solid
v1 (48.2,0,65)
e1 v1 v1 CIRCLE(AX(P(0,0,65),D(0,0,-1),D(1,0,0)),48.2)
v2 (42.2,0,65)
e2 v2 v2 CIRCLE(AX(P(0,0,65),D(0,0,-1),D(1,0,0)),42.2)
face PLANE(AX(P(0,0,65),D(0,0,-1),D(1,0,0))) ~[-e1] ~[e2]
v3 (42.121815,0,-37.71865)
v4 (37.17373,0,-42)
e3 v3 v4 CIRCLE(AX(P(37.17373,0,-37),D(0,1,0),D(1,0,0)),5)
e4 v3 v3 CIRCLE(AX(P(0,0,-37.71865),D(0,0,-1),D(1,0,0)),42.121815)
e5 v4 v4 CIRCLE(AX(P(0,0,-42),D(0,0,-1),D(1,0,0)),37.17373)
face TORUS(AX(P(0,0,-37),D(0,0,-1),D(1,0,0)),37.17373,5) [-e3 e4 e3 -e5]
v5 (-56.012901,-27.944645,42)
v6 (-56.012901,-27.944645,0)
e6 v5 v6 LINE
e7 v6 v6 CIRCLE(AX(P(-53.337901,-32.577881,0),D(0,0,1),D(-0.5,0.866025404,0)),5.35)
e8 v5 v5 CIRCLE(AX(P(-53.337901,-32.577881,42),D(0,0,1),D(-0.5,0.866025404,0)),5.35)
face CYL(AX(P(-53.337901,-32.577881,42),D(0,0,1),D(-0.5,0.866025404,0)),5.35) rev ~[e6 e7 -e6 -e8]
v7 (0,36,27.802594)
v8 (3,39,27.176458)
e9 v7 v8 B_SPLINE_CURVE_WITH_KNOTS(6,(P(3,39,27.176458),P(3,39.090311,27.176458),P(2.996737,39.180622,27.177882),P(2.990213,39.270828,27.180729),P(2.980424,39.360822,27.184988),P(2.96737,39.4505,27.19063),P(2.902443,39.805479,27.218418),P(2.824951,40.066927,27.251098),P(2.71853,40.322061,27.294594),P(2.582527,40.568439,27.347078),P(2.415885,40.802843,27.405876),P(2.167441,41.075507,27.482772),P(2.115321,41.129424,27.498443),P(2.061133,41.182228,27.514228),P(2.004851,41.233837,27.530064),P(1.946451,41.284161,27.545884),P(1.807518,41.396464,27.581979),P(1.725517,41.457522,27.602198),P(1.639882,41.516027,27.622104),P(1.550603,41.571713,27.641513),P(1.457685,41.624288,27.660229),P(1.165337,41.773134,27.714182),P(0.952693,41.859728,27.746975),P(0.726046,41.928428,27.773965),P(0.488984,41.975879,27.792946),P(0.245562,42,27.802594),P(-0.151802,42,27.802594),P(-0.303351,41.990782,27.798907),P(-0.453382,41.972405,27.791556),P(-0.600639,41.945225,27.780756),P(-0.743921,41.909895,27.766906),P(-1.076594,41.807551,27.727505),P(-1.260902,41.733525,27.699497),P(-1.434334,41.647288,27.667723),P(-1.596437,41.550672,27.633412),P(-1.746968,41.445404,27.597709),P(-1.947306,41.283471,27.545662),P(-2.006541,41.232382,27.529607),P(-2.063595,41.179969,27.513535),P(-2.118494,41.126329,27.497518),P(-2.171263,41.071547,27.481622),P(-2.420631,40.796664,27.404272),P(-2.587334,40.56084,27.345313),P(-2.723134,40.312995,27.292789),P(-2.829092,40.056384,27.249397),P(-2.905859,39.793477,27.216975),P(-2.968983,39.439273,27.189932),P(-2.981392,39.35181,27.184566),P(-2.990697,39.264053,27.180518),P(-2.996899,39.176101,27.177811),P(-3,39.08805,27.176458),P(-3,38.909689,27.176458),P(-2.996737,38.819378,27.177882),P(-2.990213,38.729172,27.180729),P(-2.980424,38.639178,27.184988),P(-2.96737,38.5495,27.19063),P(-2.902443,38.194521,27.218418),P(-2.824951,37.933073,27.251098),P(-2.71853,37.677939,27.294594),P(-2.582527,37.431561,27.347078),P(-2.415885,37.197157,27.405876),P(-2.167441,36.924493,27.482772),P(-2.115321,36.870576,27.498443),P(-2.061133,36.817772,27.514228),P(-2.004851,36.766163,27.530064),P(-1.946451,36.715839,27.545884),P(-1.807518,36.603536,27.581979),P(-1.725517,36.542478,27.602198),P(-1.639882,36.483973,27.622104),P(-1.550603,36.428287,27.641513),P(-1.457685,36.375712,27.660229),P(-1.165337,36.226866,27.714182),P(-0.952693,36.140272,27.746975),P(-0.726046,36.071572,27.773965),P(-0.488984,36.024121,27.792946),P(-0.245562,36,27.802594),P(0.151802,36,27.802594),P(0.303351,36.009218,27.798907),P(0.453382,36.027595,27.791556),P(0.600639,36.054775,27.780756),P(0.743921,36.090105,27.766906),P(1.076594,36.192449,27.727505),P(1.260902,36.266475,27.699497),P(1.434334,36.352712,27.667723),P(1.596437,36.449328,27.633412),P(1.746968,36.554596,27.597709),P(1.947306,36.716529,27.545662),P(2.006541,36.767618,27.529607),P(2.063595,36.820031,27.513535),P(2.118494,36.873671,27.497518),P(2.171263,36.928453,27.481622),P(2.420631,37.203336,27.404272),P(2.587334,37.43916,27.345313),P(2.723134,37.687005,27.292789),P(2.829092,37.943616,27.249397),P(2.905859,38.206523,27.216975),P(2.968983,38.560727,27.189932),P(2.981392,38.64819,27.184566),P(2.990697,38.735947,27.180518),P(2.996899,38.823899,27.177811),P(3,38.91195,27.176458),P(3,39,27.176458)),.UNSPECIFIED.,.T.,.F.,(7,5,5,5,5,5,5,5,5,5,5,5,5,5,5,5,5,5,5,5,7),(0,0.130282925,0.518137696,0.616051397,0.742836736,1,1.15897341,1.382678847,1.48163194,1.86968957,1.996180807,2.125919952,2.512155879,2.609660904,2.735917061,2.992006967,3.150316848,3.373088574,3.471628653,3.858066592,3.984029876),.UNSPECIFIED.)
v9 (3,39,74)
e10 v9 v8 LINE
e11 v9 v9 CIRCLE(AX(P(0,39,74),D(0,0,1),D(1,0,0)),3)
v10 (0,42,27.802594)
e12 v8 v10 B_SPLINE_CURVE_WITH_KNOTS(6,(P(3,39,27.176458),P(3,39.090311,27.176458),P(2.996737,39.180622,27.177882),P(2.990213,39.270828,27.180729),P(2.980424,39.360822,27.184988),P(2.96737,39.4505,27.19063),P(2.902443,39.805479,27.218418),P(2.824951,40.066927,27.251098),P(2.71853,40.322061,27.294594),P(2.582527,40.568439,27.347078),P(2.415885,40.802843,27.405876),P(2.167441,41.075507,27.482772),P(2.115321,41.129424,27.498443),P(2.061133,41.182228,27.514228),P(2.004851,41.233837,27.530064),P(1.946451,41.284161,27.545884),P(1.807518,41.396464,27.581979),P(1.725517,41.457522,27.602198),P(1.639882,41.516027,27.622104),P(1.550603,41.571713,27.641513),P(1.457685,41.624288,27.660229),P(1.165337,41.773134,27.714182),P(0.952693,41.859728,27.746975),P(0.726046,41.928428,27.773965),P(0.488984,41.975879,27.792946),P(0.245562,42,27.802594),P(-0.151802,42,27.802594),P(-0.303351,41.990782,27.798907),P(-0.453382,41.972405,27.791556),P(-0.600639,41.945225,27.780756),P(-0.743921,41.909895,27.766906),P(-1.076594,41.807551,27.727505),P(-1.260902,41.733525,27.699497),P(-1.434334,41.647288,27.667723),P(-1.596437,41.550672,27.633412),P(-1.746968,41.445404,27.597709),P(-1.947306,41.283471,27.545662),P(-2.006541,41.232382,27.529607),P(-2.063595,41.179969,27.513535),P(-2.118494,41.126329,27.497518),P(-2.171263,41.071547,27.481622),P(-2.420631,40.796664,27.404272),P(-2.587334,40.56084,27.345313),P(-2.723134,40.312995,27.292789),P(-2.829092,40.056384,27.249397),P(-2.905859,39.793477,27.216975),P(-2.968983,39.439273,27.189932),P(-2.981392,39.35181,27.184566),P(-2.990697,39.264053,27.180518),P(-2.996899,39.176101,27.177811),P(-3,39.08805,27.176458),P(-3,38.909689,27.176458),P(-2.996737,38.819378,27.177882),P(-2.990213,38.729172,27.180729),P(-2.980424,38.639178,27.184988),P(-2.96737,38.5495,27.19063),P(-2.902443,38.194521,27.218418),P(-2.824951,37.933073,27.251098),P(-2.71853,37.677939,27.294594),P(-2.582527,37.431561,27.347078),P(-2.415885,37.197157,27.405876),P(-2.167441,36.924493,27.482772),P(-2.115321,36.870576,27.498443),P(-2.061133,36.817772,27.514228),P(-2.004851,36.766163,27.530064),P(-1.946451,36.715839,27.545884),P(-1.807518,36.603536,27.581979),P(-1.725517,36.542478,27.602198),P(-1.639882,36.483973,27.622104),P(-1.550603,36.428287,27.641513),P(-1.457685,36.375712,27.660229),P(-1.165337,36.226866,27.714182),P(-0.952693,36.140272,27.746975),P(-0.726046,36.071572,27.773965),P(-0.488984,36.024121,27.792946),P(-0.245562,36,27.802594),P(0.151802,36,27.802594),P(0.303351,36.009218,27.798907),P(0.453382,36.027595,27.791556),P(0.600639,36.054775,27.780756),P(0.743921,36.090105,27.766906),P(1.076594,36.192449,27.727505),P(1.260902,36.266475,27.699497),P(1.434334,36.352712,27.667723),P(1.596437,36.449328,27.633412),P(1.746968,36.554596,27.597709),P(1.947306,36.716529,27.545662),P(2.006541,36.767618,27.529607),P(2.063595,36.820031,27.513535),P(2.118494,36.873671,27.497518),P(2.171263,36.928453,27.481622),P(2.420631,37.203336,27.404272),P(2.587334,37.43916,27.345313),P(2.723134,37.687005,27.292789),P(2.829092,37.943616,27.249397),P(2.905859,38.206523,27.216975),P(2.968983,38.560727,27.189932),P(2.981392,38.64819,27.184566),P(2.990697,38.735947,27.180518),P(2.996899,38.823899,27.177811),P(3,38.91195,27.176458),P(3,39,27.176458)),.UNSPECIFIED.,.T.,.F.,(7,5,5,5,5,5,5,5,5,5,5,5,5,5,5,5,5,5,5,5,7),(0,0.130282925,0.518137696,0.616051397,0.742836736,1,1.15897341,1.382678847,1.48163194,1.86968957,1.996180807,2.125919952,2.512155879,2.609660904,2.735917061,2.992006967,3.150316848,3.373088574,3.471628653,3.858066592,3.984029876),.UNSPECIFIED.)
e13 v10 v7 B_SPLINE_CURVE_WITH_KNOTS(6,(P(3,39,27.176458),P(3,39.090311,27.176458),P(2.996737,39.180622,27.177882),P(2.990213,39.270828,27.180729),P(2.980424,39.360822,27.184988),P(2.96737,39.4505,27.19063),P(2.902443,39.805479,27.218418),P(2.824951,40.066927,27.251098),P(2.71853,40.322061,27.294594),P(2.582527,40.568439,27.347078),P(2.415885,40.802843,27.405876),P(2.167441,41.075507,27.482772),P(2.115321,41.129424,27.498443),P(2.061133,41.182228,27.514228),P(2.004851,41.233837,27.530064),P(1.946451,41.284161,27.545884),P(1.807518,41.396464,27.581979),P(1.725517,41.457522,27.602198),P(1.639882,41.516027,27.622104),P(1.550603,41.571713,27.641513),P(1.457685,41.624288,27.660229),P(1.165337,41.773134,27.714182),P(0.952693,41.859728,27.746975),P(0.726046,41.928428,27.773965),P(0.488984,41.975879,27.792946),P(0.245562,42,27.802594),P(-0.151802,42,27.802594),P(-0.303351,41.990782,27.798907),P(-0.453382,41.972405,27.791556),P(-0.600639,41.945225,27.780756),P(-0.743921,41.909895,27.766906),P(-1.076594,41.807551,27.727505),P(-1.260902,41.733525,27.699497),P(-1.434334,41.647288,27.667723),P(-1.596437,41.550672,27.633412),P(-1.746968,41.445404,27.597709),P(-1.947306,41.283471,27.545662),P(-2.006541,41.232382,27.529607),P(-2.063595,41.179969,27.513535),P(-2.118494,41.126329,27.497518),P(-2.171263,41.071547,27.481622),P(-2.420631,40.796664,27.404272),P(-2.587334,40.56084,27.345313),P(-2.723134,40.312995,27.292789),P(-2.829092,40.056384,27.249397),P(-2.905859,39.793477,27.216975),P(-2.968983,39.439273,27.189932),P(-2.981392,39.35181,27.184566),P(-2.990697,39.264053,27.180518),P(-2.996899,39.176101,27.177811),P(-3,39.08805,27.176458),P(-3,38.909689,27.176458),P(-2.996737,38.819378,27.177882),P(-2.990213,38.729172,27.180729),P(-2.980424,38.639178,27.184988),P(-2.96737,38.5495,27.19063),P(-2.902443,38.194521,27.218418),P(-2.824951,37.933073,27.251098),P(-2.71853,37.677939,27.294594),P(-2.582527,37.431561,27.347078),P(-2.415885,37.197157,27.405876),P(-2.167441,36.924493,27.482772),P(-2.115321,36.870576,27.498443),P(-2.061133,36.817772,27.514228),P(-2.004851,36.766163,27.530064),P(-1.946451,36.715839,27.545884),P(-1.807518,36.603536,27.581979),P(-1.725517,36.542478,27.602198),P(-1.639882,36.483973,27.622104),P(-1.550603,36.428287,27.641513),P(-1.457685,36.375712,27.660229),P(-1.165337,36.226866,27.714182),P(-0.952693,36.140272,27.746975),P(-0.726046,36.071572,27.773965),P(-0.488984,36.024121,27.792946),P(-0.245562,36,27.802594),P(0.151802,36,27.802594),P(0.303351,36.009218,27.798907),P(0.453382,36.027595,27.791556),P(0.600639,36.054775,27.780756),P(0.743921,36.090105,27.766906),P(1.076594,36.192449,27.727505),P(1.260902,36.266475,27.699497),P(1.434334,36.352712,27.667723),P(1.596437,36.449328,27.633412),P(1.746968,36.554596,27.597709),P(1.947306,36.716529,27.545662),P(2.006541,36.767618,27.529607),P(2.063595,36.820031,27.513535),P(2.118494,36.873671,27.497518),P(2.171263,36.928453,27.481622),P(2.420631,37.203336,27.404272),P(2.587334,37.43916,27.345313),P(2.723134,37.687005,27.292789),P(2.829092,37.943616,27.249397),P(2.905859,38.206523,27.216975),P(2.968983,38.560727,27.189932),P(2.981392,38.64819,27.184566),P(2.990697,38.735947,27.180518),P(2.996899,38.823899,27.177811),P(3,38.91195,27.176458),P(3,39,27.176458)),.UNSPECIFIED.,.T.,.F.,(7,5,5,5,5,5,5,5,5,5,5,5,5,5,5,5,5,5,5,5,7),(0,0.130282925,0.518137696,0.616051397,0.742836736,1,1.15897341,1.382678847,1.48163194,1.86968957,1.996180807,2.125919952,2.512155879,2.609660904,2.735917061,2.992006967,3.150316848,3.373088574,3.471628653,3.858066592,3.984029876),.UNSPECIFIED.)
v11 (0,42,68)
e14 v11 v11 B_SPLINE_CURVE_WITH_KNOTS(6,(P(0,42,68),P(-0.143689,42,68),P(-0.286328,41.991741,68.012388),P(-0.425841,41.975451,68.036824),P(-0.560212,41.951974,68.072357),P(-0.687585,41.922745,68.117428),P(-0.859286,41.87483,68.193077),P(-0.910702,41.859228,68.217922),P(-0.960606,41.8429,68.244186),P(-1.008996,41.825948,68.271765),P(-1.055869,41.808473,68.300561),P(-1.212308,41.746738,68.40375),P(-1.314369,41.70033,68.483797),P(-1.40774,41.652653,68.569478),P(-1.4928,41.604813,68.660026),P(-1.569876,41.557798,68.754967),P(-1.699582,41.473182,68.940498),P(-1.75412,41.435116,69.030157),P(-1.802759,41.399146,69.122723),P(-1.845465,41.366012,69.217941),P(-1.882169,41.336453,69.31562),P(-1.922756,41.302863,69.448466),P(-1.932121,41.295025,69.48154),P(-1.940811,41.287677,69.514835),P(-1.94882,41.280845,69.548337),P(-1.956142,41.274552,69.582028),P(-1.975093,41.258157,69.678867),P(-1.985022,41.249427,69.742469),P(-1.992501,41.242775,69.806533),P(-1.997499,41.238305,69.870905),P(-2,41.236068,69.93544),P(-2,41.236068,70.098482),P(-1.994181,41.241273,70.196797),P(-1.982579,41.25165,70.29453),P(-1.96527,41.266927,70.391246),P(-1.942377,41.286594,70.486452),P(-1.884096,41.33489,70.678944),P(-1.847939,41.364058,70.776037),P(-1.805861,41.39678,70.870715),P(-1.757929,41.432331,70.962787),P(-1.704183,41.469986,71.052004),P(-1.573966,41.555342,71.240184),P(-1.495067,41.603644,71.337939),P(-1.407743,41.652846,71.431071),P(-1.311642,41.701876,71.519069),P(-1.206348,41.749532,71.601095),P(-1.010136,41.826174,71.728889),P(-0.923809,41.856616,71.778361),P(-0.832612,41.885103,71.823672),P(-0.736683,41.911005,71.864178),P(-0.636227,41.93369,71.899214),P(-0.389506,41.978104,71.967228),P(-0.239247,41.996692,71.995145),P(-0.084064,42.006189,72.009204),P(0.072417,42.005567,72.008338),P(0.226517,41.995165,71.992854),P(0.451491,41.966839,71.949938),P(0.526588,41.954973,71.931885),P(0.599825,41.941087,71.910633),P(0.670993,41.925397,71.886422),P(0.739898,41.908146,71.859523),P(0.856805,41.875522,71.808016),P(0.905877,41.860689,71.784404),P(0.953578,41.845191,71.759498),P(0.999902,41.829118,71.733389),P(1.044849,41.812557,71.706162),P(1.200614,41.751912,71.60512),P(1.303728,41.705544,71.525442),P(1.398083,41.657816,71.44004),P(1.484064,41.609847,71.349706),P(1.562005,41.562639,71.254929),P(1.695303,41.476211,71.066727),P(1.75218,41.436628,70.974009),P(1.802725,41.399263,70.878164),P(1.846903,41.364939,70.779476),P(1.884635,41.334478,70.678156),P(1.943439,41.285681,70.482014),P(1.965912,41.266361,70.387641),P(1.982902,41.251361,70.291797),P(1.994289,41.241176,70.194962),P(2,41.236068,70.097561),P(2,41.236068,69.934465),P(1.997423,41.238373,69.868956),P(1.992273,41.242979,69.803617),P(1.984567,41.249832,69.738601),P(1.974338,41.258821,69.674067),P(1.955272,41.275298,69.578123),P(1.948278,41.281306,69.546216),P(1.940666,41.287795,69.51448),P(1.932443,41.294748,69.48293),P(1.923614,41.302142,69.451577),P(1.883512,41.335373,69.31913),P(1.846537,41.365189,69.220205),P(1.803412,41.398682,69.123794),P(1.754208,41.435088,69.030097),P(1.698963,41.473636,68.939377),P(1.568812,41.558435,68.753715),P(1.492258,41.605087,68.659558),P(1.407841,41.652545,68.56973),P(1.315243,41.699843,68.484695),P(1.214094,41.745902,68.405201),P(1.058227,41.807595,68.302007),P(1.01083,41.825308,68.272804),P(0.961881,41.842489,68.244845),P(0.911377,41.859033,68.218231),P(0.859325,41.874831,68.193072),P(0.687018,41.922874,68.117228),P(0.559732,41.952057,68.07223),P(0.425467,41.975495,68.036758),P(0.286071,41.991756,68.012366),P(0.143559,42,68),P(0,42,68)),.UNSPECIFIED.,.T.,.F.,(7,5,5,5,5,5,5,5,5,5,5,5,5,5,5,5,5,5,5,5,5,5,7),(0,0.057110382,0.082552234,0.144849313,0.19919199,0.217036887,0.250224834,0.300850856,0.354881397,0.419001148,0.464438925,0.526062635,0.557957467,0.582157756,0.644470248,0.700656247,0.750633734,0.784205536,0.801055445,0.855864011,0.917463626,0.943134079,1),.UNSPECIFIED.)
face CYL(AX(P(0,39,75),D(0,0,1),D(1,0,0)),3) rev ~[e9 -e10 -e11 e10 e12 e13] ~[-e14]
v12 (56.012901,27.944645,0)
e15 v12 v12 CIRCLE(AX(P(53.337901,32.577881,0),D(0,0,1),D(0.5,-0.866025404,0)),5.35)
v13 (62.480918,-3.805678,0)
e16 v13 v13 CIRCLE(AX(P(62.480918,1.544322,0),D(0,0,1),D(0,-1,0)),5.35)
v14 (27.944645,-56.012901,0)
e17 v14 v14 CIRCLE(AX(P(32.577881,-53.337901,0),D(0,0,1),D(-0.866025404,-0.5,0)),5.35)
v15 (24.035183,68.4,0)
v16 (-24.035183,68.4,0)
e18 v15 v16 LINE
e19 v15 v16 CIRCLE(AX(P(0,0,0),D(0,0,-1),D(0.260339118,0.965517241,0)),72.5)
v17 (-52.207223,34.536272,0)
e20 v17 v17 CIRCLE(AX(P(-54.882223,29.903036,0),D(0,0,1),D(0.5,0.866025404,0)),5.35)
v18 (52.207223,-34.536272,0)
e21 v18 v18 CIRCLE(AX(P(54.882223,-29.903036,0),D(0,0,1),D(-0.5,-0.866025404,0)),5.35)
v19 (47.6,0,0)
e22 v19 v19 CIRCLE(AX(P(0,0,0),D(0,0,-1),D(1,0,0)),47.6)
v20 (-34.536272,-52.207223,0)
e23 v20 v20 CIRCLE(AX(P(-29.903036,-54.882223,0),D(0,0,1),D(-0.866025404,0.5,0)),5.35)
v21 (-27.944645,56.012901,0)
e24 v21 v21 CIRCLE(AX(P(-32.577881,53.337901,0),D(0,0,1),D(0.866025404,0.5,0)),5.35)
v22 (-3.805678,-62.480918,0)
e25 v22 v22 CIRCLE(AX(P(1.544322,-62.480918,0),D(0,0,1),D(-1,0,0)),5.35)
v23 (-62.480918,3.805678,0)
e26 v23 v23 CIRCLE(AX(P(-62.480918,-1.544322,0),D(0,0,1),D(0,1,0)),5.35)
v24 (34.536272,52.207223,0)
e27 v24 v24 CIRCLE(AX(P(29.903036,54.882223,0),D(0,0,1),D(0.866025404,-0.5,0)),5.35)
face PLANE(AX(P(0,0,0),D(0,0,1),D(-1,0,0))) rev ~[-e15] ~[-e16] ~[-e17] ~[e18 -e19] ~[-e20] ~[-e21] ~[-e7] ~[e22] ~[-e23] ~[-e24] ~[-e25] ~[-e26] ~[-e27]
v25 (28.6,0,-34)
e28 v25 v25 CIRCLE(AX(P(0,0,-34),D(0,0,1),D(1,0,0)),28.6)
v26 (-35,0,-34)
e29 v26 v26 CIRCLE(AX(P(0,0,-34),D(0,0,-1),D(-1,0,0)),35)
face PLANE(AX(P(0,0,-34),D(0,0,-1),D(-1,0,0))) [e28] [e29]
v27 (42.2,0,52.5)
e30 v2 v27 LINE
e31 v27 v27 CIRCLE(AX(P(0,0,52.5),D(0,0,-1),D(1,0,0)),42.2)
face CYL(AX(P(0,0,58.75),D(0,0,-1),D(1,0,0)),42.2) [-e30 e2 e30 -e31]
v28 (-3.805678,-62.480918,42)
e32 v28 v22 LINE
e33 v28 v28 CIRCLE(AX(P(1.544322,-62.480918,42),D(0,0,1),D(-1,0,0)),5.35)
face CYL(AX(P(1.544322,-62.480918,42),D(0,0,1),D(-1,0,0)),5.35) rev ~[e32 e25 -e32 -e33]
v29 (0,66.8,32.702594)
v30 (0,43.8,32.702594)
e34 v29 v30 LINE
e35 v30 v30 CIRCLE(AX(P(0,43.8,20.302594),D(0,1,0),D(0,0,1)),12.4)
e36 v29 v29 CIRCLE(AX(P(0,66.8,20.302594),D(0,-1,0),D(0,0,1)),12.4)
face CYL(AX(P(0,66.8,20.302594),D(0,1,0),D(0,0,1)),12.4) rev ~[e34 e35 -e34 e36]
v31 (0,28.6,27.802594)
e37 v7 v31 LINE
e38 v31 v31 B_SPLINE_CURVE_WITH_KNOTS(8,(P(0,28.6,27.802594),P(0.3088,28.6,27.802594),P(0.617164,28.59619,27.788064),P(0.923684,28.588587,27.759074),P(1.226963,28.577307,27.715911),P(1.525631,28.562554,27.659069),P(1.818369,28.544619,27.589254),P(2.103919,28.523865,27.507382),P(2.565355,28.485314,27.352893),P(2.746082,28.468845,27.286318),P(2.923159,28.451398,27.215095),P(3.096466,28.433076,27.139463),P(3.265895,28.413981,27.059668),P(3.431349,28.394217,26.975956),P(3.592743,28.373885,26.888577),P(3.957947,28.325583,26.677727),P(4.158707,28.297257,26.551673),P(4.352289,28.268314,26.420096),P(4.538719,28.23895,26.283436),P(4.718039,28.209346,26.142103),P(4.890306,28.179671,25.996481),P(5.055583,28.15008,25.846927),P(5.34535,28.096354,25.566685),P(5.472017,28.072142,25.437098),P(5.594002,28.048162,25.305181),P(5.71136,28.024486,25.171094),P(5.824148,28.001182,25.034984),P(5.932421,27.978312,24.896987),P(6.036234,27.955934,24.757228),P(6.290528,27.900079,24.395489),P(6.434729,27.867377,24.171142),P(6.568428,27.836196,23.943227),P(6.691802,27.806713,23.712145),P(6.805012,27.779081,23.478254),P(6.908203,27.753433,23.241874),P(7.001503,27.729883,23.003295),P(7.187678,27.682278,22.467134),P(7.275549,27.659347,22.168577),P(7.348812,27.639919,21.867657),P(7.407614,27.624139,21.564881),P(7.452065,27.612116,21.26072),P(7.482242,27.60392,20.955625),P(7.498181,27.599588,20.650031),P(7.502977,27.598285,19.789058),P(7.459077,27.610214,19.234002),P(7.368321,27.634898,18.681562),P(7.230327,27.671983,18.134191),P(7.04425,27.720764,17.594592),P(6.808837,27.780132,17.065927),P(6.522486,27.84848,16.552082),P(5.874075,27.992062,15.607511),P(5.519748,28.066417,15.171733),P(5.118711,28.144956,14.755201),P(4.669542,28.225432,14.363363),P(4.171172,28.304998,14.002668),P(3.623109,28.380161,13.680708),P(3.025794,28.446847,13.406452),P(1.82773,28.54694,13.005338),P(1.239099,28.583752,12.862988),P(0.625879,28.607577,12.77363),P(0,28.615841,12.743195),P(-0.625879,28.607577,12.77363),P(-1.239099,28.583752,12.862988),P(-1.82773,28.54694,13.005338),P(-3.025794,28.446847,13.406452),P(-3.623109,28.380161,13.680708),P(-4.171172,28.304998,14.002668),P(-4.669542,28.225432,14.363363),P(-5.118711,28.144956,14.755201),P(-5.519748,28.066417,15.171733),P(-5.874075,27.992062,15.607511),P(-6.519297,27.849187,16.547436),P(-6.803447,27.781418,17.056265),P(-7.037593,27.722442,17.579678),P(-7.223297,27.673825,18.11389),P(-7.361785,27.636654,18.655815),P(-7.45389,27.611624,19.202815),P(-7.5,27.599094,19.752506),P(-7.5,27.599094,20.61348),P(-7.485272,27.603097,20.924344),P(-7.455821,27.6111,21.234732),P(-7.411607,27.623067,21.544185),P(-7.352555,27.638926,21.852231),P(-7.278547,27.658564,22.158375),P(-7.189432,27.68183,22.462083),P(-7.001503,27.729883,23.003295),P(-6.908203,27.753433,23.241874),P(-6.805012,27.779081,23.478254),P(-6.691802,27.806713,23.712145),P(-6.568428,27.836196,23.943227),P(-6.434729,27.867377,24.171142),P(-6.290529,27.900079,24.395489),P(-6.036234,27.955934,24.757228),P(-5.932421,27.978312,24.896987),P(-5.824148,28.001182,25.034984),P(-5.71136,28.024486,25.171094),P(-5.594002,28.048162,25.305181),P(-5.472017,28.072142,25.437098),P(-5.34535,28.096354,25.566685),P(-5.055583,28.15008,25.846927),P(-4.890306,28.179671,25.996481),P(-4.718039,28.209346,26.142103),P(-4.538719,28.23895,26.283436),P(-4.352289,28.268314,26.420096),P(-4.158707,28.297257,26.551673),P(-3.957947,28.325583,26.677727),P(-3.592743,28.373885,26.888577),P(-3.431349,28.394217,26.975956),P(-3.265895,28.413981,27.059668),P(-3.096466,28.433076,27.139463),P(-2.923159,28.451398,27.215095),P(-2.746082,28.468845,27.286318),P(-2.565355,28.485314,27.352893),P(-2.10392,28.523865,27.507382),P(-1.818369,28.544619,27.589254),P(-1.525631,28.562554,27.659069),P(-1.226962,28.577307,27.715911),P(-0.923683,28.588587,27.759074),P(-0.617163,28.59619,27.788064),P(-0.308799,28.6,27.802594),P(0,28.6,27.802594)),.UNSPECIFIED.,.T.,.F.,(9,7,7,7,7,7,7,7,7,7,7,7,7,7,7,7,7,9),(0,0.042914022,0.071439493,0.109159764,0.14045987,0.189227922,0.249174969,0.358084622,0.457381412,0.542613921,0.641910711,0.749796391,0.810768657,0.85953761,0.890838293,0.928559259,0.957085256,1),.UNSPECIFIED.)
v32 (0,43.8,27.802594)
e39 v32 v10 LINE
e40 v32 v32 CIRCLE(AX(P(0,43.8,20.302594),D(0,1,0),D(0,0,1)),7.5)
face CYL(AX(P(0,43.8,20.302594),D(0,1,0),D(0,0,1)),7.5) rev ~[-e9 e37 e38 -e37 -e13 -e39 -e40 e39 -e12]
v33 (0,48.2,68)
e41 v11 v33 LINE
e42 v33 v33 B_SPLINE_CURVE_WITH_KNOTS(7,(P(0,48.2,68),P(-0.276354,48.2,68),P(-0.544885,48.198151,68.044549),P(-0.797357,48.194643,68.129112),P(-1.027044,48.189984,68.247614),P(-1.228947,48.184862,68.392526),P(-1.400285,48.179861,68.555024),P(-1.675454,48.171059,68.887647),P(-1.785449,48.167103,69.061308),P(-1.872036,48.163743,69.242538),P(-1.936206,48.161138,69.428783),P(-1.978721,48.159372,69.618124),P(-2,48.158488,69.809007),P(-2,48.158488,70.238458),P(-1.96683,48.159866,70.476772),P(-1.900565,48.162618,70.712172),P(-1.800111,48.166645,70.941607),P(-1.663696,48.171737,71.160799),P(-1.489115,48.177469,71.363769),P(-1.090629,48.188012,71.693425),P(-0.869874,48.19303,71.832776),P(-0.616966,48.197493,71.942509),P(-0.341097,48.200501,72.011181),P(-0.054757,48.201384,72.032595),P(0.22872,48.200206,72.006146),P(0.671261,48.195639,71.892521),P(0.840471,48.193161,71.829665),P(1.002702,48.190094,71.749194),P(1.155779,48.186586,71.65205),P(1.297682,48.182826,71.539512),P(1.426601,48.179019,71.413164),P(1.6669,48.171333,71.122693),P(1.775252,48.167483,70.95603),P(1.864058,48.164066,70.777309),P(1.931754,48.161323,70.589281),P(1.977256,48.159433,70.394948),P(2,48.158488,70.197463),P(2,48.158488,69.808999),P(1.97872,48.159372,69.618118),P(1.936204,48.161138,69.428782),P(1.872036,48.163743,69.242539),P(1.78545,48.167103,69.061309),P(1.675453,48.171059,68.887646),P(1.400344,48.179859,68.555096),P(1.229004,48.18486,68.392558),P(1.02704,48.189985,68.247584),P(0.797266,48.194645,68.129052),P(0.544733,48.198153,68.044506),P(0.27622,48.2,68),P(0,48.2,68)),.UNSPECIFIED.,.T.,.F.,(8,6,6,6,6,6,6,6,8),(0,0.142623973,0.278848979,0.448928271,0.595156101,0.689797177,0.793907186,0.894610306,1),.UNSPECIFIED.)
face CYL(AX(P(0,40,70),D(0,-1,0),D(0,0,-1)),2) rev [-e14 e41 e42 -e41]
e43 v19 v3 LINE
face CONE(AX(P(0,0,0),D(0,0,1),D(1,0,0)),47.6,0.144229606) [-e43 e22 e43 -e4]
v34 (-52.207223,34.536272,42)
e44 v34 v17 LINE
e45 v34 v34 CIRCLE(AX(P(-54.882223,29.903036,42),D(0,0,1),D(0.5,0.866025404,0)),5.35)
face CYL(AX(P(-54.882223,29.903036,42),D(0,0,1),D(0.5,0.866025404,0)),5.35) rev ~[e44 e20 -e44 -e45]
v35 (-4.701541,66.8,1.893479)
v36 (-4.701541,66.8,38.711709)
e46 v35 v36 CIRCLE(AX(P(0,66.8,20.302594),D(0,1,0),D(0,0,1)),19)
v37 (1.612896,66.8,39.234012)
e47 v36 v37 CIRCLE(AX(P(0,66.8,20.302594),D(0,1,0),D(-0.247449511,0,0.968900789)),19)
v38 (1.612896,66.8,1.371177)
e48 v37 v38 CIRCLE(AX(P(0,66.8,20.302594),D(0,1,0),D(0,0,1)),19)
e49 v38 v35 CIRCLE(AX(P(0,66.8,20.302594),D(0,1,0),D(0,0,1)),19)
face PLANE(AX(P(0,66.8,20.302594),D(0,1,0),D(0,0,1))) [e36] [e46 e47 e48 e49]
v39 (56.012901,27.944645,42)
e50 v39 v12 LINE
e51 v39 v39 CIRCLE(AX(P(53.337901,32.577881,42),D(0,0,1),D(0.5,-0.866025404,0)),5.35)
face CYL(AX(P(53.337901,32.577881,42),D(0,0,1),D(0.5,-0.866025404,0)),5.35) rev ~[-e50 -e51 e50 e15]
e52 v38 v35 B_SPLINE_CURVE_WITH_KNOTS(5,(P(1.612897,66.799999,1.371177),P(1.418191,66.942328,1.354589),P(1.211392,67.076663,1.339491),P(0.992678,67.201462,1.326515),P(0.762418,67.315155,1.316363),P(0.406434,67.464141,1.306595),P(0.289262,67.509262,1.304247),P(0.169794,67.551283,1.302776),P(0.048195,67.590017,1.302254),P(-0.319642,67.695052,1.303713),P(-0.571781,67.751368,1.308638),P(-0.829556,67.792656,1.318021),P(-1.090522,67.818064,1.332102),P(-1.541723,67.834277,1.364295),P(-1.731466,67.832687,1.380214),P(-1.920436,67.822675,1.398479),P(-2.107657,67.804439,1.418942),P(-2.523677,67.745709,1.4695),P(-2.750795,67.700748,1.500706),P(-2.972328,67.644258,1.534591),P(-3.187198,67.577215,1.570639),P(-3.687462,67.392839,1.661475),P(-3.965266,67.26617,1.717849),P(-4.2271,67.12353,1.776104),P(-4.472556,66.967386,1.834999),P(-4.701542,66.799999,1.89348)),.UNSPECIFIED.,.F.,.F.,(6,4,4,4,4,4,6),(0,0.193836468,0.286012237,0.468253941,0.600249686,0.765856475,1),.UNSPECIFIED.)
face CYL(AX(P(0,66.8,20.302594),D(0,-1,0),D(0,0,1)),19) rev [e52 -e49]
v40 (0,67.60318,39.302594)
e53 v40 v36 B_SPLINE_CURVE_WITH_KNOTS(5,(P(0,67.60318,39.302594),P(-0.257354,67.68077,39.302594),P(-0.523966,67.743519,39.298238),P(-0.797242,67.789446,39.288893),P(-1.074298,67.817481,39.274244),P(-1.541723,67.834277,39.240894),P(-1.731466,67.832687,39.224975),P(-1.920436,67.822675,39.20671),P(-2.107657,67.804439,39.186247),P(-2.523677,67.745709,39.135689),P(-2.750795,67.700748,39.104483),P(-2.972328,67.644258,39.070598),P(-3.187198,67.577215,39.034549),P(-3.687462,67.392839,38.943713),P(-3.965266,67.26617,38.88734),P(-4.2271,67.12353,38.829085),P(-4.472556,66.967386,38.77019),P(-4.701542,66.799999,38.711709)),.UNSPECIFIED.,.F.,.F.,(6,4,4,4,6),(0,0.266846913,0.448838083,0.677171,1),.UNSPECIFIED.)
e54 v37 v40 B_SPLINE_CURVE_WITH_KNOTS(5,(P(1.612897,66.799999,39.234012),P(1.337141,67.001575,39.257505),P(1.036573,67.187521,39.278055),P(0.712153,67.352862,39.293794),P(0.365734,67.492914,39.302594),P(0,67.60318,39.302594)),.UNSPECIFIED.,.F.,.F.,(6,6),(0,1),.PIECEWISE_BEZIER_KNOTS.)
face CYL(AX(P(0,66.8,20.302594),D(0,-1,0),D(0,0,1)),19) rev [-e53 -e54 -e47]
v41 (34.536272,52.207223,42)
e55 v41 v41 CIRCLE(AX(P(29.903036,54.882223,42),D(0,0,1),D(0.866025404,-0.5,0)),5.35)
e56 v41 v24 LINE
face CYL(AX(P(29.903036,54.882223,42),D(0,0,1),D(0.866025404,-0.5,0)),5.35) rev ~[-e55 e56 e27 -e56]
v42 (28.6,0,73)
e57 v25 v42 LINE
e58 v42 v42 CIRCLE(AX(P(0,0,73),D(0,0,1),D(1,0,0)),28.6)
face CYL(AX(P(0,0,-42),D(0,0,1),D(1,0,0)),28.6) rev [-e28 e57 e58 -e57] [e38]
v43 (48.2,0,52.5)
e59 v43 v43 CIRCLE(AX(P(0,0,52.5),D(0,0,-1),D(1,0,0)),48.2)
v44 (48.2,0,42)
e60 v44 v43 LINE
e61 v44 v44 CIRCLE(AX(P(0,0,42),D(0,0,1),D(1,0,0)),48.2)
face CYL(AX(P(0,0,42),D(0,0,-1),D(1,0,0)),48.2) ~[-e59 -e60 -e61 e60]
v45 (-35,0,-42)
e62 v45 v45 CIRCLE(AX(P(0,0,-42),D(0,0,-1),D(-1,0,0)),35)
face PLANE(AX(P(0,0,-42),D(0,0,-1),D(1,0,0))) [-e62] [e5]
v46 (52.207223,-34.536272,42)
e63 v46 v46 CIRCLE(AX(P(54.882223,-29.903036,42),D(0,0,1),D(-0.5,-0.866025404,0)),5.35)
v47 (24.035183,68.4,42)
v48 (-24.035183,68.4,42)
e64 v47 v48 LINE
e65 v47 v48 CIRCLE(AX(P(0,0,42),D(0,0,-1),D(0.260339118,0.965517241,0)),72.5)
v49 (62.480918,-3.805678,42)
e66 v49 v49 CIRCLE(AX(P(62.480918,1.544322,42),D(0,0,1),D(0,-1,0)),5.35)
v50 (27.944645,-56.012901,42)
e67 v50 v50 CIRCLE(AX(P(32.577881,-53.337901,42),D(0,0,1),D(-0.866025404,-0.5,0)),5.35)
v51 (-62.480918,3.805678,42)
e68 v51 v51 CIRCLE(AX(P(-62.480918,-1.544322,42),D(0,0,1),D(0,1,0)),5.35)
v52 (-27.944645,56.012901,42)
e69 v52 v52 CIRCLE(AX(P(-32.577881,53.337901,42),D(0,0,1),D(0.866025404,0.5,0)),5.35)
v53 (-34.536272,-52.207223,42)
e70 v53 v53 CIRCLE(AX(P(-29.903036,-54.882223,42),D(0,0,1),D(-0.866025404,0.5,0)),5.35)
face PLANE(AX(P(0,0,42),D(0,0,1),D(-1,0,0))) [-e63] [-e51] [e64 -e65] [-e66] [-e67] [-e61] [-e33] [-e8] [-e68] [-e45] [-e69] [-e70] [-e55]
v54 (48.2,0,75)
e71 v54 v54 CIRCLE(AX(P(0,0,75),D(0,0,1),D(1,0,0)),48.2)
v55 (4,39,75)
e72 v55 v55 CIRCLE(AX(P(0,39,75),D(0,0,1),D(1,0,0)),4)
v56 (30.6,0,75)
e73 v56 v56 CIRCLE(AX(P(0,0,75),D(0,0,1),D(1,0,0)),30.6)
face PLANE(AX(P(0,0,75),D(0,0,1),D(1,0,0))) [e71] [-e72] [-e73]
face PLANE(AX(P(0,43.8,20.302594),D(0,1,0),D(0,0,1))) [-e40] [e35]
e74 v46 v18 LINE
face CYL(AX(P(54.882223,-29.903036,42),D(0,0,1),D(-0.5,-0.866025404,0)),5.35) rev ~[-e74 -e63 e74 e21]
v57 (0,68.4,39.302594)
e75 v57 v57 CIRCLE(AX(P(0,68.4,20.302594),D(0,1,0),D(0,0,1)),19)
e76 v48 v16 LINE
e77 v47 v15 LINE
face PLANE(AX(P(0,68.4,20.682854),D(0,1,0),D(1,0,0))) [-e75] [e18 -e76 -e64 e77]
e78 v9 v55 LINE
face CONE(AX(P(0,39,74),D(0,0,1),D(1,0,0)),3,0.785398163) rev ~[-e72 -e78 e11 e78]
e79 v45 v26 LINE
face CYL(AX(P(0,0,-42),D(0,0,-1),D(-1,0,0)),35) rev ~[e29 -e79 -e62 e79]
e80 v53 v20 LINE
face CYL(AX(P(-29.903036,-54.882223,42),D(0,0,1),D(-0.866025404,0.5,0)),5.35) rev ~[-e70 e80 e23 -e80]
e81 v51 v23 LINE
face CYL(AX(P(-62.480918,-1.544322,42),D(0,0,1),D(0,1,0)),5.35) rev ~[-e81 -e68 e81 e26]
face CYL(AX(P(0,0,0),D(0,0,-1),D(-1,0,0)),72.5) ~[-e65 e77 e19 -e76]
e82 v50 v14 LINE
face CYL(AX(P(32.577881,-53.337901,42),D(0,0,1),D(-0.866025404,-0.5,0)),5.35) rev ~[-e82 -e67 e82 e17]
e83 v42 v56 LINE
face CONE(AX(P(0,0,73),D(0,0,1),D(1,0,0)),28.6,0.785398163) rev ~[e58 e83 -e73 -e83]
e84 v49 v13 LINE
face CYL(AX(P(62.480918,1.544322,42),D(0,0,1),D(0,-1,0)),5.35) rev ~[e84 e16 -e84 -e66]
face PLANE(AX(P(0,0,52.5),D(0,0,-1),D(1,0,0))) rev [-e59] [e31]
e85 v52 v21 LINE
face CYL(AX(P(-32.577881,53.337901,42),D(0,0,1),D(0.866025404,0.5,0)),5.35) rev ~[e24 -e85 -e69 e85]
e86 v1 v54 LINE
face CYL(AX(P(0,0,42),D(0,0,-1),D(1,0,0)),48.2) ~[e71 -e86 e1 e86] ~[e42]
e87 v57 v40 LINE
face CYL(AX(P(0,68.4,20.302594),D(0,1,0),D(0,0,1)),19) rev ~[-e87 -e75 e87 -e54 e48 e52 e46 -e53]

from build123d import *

# Parameters (mm, degrees)
SKETCH1_R               = 72.5
BOSS_EXTRUDE1_DEPTH     = 42
SKETCH2_R               = 48.2
BOSS_EXTRUDE2_DEPTH     = 33
SKETCH4_R               = 28.6
CUT_EXTRUDE1_DEPTH      = 156.568312969
SKETCH5_R               = 35
CUT_EXTRUDE2_DEPTH      = 8
SKETCH6_W               = 12.5
SKETCH6_H               = 6
FILLET1_R               = 5
SKETCH7_R               = 5.35
CUT_EXTRUDE3_DEPTH      = 133.546218354
CIRPATTERN1_COUNT       = 12
CHAMFER1_SIZE           = 2
SKETCH8_W               = 51
SKETCH8_H               = 57.058415431
CUT_EXTRUDE4_DEPTH      = 22
CUT_EXTRUDE4_DEPTH_BACK = 1.6
SKETCH9_R               = 19
CUT_EXTRUDE5_DEPTH      = 1.6
SKETCH10_R              = 5.35
BOSS_EXTRUDE3_DEPTH     = 42
SKETCH11_R              = 12.4
CUT_EXTRUDE6_DEPTH      = 23
SKETCH12_R              = 19
CUT_EXTRUDE7_DEPTH      = 23
SKETCH13_R              = 7.5
CUT_EXTRUDE8_DEPTH      = 23
CUT_EXTRUDE9_REACH      = 157.568
CUT_EXTRUDE9_END_RADIUS = 7.5
SKETCH14_R              = 3
CHAMFER2_SIZE           = 1
CUT_EXTRUDE10_START     = 40
SKETCH15_R              = 2
CUT_EXTRUDE10_DEPTH     = 88.033460159


with BuildPart() as part:
    # Sketch1 → Boss-Extrude1 (new body)
    with BuildSketch(Plane.XY):
        with Locations(Location((0, 0, 0), (0, 0, 180))):
            Circle(SKETCH1_R)
    extrude(amount=BOSS_EXTRUDE1_DEPTH)

    # Sketch2 → Boss-Extrude2 (add)
    with BuildSketch(Plane.XY.offset(42)):
        Circle(SKETCH2_R)
    extrude(amount=BOSS_EXTRUDE2_DEPTH)

    # Sketch3 → Revolve1 (revolve)
    with BuildSketch(Plane(origin=(0, 0, 0), x_dir=(0, 0, -1), z_dir=(1, 0, 0)), mode=Mode.PRIVATE) as revolve1_sk:
        Polygon((0, 47.6), (42, 41.5), (42, 28.6), (0, 28.6), align=None)
    revolve(revolve1_sk.sketch.rotate(Axis((0, 0, 0), (0, 0, -1)), 90), axis=Axis((0, 0, 0), (0, 0, -1)))

    # Sketch4 → Cut-Extrude1 (cut, through all)
    with BuildSketch(Plane.XY.offset(75)):
        Circle(SKETCH4_R)
    extrude(amount=-CUT_EXTRUDE1_DEPTH, mode=Mode.SUBTRACT)

    # Sketch5 → Cut-Extrude2 (cut)
    with BuildSketch(Plane(origin=(0, 0, -42), x_dir=(-1, 0, 0), z_dir=(0, 0, -1))):
        Circle(SKETCH5_R)
    extrude(amount=-CUT_EXTRUDE2_DEPTH, mode=Mode.SUBTRACT)

    # Sketch6 → Cut-Revolve1 (revolve, cut)
    with BuildSketch(Plane(origin=(0, 0, 0), x_dir=(0, 0, -1), z_dir=(1, 0, 0)), mode=Mode.PRIVATE) as cut_revolve1_sk:
        with Locations((-58.75, 45.2)):
            Rectangle(SKETCH6_W, SKETCH6_H)
    revolve(cut_revolve1_sk.sketch.rotate(Axis((0, 0, 75), (0, 0, -1)), 90), axis=Axis((0, 0, 75), (0, 0, -1)), mode=Mode.SUBTRACT)

    # Fillet1
    fillet1_edges = [part.edges().sort_by_distance(p)[0] for p in [
        (-41.5, 0, -42),
    ]]
    fillet(fillet1_edges, radius=FILLET1_R)

    # Sketch7 → Cut-Extrude3 (cut, through all)
    with BuildSketch(Plane.XY.offset(42)):
        with Locations((-1.544322391, 62.480917634)):
            Circle(SKETCH7_R)
    cut_extrude3 = extrude(amount=-CUT_EXTRUDE3_DEPTH, mode=Mode.SUBTRACT)

    # CirPattern1: Cut-Extrude3 ×12 about axis
    cirpattern1_axis = Axis((0, 0, 0), (0, 0, 1))
    for i in range(1, CIRPATTERN1_COUNT):
        add(cut_extrude3.rotate(cirpattern1_axis, i * 360 / CIRPATTERN1_COUNT), mode=Mode.SUBTRACT)

    # Chamfer1
    chamfer1_edges = [part.edges().sort_by_distance(p)[0] for p in [
        (-28.6, 0, 75),
    ]]
    chamfer(chamfer1_edges, length=CHAMFER1_SIZE)

    # Sketch8 → Cut-Extrude4 (cut, two sides)
    with BuildSketch(Plane(origin=(0, 70, 0), x_dir=(1, 0, 0), z_dir=(0, 1, 0))) as cut_extrude4_sk:
        with Locations((0, -20.682853763)):
            Rectangle(SKETCH8_W, SKETCH8_H)
    extrude(amount=CUT_EXTRUDE4_DEPTH, mode=Mode.SUBTRACT)
    extrude(cut_extrude4_sk.sketch, amount=-CUT_EXTRUDE4_DEPTH_BACK, mode=Mode.SUBTRACT)

    # Sketch9 → Cut-Extrude5 (cut)
    with BuildSketch(Plane(origin=(0, 68.4, 0), x_dir=(1, 0, 0), z_dir=(0, 1, 0))):
        with Locations(Location((0, -20.30259433, 0), (0, 0, 270))):
            Circle(SKETCH9_R)
    extrude(amount=-CUT_EXTRUDE5_DEPTH, mode=Mode.SUBTRACT)

    # Sketch10 → Boss-Extrude3 (add)
    with BuildSketch(Plane.XY.offset(42)):
        with Locations((-1.544322391, 62.480917634)):
            Circle(SKETCH10_R)
    extrude(amount=-BOSS_EXTRUDE3_DEPTH)

    # Sketch11 → Cut-Extrude6 (cut)
    with BuildSketch(Plane(origin=(0, 66.8, 0), x_dir=(1, 0, 0), z_dir=(0, 1, 0))):
        with Locations(Location((0, -20.30259433, 0), (0, 0, 270))):
            Circle(SKETCH11_R)
    extrude(amount=-CUT_EXTRUDE6_DEPTH, mode=Mode.SUBTRACT)

    # Sketch12 → Cut-Extrude7 (cut)
    with BuildSketch(Plane(origin=(0, 66.8, 0), x_dir=(1, 0, 0), z_dir=(0, 1, 0))):
        with Locations(Location((0, -20.30259433, 0), (0, 0, 270))):
            Circle(SKETCH12_R)
    extrude(amount=CUT_EXTRUDE7_DEPTH, mode=Mode.SUBTRACT)

    # Sketch13 → Cut-Extrude8 (cut)
    with BuildSketch(Plane(origin=(0, 43.8, 0), x_dir=(1, 0, 0), z_dir=(0, 1, 0))):
        with Locations(Location((0, -20.30259433, 0), (0, 0, 270))):
            Circle(SKETCH13_R)
    extrude(amount=-CUT_EXTRUDE8_DEPTH, mode=Mode.SUBTRACT)

    # Cut-Extrude9: up to this cylinder (the profile starts outside it)
    cut_extrude9_end = Plane(origin=(0, 39, 20.30259433), z_dir=(0, 1, 0)) * Cylinder(CUT_EXTRUDE9_END_RADIUS, 331.136, mode=Mode.PRIVATE)
    # Sketch14 → Cut-Extrude9 (cut, up to the surface)
    with BuildSketch(Plane.XY.offset(75), mode=Mode.PRIVATE) as cut_extrude9_sk1:
        with Locations((0, 39)):
            Circle(SKETCH14_R)
    cut_extrude9_tool1 = extrude(cut_extrude9_sk1.sketch, amount=-CUT_EXTRUDE9_REACH, mode=Mode.PRIVATE) - cut_extrude9_end
    add(cut_extrude9_tool1.solids().sort_by_distance((0, 39, 75))[0], mode=Mode.SUBTRACT)

    # Chamfer2
    chamfer2_edges = [part.edges().sort_by_distance(p)[0] for p in [
        (-3, 39, 75),
    ]]
    chamfer(chamfer2_edges, length=CHAMFER2_SIZE)

    # Sketch15 → Cut-Extrude10 (cut, through all)
    with BuildSketch(Plane(origin=(0, 0, 0), x_dir=(1, 0, 0), z_dir=(0, 1, 0)).offset(CUT_EXTRUDE10_START)):
        with Locations(Location((0, -70, 0), (0, 0, 90))):
            Circle(SKETCH15_R)
    extrude(amount=CUT_EXTRUDE10_DEPTH, mode=Mode.SUBTRACT)


solid = part.part
